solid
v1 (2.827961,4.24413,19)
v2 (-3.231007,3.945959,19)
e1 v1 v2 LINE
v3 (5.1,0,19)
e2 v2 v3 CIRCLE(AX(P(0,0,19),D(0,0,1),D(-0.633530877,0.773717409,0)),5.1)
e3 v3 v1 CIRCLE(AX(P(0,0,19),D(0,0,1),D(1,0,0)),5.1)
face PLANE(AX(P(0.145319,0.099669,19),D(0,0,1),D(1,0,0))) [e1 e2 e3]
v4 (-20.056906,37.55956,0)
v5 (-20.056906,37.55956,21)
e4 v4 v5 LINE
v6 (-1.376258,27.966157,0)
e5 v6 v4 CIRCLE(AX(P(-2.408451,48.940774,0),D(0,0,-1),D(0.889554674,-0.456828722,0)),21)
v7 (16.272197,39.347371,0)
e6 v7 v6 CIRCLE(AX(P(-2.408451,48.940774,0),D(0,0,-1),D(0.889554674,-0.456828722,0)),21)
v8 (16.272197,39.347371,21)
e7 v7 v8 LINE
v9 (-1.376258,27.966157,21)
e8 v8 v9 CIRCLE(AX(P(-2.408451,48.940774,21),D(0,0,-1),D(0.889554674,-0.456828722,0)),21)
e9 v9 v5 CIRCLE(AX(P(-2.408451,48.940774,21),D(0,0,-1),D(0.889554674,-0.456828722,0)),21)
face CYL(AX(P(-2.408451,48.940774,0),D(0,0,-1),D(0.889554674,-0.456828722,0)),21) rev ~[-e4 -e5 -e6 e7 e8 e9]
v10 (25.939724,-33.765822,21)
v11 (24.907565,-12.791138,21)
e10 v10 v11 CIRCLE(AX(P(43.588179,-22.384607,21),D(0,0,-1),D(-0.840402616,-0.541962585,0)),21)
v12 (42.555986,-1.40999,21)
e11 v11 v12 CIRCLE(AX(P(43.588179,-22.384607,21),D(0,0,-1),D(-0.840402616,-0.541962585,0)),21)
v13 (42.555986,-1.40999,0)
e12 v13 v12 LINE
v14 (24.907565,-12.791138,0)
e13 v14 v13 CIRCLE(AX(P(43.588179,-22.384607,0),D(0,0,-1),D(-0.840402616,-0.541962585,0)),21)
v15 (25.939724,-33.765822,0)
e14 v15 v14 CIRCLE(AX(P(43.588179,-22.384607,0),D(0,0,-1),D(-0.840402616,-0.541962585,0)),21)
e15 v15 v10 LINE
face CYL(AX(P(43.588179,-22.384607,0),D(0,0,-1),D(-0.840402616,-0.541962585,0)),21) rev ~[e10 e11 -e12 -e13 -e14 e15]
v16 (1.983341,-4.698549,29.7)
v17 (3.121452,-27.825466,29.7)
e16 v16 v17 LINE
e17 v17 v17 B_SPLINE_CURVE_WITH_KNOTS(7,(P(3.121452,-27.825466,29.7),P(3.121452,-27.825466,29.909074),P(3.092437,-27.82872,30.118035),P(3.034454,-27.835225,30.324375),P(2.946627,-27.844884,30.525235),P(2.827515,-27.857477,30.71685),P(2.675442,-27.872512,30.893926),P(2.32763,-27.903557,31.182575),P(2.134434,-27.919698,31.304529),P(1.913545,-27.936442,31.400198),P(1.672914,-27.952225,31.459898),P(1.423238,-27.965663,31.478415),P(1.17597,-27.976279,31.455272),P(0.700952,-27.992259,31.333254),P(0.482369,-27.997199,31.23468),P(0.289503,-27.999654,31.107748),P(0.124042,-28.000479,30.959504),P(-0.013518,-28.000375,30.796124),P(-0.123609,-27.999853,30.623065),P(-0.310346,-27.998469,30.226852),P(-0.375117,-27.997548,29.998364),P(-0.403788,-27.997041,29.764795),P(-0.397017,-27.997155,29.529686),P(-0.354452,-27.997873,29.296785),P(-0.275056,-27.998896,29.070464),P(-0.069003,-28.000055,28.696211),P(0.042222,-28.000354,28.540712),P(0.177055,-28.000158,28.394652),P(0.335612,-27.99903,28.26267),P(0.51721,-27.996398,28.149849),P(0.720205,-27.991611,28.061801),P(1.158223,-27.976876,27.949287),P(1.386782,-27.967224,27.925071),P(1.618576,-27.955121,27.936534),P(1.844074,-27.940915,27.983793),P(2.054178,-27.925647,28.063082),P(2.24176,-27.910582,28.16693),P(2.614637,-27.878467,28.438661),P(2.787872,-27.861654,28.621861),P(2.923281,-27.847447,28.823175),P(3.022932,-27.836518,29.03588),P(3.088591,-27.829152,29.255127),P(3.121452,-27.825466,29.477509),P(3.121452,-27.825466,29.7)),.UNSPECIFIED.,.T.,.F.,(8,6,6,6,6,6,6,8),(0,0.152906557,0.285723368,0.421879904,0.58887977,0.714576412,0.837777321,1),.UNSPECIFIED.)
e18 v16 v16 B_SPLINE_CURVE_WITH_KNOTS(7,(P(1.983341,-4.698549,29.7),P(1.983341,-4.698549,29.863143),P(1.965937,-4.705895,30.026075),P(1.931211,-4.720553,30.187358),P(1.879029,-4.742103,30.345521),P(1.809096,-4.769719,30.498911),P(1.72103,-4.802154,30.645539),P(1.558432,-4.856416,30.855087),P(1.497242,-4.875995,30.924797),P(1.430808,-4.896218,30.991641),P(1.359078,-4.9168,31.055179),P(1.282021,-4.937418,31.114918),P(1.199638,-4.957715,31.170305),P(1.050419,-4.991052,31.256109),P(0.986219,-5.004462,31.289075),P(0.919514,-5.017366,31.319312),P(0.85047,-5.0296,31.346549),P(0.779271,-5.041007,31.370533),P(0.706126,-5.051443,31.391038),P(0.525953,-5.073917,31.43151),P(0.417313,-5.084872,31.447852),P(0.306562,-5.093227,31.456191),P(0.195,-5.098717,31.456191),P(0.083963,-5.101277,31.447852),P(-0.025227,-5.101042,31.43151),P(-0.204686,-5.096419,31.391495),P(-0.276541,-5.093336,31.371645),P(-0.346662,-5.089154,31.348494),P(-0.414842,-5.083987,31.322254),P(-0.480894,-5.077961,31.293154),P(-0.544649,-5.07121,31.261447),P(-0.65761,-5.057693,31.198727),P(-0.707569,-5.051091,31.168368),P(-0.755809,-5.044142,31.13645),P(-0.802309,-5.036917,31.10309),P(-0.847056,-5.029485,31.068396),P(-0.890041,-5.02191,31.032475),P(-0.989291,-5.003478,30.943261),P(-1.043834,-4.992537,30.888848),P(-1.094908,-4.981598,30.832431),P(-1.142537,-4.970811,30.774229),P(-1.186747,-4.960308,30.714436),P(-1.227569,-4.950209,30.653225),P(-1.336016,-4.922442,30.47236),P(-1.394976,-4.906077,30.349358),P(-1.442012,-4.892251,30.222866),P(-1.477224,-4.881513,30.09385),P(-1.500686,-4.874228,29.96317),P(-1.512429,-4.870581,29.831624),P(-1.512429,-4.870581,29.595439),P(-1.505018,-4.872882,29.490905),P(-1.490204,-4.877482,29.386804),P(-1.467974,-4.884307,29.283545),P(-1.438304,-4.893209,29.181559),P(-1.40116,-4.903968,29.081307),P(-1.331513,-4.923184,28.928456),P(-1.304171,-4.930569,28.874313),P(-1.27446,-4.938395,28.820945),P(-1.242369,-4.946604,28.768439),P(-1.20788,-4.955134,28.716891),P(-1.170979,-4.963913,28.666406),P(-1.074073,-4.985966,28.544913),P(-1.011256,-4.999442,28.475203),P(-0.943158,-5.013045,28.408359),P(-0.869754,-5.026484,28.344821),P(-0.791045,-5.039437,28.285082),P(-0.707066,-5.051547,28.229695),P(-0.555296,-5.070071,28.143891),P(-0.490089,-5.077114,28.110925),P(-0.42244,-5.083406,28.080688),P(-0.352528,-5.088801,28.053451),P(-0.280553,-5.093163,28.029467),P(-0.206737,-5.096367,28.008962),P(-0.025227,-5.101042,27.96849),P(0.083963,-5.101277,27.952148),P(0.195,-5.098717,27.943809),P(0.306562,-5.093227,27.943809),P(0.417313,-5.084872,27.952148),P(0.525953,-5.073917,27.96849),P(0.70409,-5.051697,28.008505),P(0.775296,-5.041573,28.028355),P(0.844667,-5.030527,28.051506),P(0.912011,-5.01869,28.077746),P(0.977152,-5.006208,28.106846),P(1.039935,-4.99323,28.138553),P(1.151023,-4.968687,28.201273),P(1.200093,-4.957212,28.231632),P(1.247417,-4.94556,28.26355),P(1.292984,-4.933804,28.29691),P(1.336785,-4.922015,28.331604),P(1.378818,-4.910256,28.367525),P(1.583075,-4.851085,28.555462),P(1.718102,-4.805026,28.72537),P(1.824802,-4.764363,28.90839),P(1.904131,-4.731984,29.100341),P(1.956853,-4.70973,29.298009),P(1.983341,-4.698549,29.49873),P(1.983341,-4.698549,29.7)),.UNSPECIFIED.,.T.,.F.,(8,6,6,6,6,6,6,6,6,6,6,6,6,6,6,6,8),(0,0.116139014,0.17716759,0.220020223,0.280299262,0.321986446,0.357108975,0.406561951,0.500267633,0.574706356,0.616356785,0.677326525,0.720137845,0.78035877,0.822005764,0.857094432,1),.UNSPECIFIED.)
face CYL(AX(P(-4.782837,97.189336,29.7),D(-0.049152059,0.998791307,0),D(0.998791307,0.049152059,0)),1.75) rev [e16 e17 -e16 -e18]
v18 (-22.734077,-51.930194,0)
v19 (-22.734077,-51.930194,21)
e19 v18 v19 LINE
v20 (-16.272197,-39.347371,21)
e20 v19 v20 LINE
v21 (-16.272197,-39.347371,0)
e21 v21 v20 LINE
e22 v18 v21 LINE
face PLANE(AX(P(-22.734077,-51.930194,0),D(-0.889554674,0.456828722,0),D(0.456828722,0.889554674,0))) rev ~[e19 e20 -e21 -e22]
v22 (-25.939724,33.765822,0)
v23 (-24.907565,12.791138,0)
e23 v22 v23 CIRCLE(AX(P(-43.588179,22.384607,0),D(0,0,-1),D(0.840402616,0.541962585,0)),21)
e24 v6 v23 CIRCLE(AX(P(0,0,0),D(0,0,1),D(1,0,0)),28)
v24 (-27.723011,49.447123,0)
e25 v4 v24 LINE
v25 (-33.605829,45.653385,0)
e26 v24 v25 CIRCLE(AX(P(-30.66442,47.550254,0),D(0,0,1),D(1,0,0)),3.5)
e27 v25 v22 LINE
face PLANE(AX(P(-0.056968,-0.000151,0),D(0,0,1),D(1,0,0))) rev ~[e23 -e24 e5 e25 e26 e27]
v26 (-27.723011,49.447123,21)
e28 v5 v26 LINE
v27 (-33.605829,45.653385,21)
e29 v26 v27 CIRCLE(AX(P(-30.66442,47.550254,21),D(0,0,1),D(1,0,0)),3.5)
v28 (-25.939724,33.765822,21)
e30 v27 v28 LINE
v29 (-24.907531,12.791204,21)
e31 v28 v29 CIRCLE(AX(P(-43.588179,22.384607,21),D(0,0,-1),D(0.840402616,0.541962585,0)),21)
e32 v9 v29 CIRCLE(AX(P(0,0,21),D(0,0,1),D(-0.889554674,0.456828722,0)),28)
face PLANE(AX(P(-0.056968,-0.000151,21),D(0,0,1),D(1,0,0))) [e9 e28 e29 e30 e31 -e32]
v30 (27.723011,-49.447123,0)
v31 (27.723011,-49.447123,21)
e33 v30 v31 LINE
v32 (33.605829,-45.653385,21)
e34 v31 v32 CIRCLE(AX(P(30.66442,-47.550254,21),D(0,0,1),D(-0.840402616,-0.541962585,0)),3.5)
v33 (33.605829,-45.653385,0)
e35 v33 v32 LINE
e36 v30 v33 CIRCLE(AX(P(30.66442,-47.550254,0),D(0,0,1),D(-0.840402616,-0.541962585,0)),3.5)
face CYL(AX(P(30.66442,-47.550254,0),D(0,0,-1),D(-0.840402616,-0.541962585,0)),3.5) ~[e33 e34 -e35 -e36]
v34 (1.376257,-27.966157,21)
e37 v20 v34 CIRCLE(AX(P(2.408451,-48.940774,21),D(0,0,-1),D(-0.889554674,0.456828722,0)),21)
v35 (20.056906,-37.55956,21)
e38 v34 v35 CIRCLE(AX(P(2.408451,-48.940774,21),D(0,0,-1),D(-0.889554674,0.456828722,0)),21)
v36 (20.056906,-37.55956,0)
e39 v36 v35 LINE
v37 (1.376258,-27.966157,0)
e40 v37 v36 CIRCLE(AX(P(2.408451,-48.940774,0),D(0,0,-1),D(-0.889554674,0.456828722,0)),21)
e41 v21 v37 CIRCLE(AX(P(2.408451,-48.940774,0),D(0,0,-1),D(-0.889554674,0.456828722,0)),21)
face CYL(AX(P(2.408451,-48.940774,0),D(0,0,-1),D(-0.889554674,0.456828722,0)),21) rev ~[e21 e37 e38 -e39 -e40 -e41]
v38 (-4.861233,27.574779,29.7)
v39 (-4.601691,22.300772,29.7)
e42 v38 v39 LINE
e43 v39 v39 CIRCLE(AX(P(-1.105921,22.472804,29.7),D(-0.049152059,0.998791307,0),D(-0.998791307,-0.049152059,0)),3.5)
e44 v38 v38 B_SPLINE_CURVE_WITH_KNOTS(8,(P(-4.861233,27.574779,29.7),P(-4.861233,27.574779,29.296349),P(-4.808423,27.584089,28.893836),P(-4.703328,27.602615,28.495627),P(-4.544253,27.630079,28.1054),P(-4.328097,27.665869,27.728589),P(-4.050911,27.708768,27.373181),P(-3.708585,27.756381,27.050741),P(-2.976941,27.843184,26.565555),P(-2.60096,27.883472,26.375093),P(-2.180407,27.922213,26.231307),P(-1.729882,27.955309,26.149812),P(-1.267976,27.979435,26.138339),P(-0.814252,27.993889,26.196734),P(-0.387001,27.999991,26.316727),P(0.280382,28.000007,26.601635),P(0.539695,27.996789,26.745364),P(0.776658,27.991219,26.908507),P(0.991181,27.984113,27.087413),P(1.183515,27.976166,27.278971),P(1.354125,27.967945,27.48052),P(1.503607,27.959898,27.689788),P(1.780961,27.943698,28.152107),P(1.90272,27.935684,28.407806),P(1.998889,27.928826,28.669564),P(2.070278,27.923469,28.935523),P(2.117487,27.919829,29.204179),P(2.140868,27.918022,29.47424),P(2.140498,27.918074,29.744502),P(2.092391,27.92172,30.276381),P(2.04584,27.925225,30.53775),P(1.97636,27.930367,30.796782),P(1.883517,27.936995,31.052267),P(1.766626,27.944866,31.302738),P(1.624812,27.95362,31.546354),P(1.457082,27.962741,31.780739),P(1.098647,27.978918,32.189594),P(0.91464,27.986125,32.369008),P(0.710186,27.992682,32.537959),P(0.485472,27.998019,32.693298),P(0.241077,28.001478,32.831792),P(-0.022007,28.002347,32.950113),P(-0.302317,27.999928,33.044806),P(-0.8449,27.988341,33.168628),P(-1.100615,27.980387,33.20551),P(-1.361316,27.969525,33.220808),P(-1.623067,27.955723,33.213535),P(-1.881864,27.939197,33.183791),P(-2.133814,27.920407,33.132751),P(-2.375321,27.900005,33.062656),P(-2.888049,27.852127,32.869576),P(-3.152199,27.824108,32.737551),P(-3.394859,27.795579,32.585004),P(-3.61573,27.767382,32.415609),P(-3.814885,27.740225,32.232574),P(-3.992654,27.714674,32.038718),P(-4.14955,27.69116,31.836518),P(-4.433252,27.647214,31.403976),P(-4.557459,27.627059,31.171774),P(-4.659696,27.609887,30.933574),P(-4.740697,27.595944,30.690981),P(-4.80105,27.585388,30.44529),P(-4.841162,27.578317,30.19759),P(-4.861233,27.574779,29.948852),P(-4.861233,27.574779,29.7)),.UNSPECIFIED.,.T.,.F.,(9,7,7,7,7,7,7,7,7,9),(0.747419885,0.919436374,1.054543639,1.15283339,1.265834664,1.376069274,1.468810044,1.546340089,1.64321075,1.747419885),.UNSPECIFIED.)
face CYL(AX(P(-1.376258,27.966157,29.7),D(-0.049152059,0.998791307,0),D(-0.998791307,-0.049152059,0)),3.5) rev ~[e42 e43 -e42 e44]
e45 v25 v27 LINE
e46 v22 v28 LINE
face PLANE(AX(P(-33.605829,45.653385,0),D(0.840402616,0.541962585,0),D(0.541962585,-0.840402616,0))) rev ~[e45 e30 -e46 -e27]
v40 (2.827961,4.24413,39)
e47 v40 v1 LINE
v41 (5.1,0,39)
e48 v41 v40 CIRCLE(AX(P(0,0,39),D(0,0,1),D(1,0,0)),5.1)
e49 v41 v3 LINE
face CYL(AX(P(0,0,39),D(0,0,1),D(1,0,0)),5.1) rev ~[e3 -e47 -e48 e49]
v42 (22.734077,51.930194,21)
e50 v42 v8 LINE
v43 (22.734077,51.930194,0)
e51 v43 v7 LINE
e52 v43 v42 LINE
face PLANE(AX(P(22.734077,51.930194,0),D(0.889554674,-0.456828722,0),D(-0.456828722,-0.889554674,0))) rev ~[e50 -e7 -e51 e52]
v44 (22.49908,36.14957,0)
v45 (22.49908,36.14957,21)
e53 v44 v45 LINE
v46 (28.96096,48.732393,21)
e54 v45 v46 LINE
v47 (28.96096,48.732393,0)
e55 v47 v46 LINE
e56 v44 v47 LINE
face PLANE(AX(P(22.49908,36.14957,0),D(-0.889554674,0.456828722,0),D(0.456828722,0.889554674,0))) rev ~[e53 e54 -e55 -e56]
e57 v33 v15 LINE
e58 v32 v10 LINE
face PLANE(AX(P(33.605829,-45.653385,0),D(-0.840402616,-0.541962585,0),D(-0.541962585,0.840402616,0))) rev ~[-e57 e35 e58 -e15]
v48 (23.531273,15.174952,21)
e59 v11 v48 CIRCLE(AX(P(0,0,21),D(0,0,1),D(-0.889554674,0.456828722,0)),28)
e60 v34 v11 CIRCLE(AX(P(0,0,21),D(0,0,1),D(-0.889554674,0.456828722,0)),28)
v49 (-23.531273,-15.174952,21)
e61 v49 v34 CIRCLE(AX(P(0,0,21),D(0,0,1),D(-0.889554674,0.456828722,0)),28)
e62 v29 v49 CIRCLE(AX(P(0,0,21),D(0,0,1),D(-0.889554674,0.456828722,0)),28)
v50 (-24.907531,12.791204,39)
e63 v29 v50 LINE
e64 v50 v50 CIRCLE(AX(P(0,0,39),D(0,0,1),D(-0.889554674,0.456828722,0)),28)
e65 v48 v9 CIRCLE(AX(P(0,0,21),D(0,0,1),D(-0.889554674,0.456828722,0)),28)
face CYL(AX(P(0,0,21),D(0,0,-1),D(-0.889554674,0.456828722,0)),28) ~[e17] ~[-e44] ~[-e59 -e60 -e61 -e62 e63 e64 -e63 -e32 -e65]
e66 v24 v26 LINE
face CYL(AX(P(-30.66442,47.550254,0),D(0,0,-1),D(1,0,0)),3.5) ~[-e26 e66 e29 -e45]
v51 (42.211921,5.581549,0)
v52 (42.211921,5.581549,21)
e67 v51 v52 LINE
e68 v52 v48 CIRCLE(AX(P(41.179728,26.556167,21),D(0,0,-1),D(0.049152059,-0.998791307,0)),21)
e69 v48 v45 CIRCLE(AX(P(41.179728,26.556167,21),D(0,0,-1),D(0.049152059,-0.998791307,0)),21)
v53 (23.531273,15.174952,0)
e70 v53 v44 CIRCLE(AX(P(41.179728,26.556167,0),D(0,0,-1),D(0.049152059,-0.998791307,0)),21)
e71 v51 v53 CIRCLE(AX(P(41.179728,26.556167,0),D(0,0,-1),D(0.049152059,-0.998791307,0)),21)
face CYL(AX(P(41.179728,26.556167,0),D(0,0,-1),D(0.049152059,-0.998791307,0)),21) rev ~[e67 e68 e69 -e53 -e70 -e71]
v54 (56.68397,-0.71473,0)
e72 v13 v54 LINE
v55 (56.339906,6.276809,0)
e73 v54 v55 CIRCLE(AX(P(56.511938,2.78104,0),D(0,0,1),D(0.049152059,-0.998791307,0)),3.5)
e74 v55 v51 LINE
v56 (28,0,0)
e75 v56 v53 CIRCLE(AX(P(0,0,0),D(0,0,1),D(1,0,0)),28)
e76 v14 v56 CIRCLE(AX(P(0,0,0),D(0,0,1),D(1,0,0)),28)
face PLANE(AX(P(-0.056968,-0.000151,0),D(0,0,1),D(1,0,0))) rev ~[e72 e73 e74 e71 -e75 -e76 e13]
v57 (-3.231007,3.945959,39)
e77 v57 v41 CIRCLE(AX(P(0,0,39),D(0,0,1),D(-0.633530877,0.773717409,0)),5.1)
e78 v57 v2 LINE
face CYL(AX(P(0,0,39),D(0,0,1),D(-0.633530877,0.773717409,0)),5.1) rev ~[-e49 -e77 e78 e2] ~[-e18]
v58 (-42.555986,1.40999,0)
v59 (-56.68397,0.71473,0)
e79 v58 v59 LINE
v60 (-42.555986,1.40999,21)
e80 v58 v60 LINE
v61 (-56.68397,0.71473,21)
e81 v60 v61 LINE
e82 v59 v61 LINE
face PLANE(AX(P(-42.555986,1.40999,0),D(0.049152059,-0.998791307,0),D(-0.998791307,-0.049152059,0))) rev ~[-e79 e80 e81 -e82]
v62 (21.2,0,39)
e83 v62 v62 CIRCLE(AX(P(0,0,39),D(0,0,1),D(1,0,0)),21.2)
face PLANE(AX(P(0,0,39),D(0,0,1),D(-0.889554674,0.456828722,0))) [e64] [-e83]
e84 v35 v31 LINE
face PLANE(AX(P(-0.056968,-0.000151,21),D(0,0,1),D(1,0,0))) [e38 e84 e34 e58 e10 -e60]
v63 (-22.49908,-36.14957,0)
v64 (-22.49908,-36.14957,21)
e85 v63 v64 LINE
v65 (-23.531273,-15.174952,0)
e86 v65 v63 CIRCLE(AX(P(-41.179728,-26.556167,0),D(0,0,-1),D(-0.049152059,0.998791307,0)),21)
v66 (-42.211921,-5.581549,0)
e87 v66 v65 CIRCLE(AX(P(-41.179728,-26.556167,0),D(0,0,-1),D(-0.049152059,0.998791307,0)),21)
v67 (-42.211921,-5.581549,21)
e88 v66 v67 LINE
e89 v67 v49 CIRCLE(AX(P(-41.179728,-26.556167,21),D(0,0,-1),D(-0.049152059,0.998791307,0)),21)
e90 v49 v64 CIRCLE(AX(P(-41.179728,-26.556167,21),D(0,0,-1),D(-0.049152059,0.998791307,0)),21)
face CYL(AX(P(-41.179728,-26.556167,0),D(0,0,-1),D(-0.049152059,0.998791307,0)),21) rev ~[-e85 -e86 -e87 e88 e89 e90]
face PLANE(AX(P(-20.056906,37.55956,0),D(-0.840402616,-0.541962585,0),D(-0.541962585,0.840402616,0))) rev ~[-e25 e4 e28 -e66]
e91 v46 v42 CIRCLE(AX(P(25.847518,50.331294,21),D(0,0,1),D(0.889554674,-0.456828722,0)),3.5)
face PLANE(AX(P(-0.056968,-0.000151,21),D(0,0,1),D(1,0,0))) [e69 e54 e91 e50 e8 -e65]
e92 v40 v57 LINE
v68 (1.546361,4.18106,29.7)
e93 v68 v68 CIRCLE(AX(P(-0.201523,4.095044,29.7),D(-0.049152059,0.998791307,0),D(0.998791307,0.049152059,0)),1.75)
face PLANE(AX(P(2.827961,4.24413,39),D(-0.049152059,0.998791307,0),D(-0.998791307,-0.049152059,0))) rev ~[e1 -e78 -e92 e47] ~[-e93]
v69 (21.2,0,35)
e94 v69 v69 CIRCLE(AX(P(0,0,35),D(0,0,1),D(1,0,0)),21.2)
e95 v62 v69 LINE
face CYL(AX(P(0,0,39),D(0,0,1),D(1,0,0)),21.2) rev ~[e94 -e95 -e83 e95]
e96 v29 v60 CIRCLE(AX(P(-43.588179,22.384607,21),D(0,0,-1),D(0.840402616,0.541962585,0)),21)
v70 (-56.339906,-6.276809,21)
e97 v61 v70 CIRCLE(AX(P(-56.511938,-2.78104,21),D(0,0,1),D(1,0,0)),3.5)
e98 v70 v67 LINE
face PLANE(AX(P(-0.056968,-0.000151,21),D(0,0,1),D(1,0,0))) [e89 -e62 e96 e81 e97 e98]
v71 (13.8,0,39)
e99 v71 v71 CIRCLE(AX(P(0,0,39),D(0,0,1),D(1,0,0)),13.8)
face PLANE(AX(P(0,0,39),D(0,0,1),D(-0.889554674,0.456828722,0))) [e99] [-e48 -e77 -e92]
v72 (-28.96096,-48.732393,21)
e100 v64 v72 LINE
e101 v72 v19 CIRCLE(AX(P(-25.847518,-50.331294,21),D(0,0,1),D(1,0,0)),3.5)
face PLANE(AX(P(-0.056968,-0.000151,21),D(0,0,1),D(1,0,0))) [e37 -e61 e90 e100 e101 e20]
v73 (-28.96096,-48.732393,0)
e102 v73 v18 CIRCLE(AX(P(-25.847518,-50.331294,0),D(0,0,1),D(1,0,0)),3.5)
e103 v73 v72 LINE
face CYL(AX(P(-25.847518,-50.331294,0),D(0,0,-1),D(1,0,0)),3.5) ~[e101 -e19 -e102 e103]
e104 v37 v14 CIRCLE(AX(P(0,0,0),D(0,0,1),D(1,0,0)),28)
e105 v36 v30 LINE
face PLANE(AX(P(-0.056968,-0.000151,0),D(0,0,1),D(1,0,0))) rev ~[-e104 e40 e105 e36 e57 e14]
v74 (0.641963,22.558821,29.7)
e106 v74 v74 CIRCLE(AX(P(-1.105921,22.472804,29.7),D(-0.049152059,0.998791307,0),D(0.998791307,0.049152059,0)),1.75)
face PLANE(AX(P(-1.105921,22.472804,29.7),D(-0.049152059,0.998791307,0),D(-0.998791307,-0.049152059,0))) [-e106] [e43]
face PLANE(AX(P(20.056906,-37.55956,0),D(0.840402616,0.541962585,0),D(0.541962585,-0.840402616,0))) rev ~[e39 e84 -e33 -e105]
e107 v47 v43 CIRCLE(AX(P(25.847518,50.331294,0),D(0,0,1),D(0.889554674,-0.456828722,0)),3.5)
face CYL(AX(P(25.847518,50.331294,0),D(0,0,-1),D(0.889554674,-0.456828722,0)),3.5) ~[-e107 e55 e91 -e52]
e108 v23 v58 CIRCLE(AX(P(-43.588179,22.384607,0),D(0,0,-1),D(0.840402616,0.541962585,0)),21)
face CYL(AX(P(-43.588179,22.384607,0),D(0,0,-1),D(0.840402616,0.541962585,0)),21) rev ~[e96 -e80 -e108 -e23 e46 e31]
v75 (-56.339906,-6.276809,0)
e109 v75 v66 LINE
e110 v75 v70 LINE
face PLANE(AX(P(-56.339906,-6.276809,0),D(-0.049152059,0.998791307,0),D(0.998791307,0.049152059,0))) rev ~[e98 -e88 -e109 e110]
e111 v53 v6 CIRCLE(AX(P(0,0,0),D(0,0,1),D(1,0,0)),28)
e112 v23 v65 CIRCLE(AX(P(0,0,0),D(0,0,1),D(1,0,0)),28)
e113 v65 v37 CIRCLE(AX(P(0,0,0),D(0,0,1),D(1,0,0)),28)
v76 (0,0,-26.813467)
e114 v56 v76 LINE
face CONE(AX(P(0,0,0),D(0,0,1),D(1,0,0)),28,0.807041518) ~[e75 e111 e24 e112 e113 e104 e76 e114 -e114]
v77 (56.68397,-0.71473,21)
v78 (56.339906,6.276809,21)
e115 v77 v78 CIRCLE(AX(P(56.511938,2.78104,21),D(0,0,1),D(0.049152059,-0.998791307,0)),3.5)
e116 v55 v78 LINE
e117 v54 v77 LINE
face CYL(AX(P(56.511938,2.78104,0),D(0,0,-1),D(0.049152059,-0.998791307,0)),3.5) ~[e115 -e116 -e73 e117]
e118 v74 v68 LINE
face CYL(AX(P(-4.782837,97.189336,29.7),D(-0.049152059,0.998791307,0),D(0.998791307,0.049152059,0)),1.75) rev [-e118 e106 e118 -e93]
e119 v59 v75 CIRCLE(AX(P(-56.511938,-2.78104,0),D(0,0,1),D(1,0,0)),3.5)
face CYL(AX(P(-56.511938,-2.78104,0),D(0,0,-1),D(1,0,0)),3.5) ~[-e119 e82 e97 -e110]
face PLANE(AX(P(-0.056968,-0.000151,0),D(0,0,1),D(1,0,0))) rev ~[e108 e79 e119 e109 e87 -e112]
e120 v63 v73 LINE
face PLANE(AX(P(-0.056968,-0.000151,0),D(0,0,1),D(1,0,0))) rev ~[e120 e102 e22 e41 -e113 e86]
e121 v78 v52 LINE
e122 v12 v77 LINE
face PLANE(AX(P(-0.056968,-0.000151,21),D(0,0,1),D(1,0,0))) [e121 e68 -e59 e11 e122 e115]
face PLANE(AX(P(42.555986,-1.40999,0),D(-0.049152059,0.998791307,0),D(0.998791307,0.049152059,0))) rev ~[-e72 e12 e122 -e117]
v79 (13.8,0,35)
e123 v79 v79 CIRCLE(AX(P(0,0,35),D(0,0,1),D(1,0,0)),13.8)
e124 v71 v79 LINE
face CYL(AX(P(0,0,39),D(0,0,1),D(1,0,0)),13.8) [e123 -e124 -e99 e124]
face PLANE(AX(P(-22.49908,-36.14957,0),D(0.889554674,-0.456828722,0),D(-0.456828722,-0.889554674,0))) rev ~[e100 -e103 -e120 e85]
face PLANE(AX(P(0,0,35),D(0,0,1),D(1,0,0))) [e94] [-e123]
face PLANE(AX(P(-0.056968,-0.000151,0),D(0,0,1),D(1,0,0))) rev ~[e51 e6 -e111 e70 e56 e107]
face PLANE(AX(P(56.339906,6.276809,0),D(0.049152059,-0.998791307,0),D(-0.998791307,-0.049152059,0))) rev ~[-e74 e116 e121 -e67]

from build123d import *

# Parameters (mm, degrees)
SKETCH1_R               = 3.5
BOSS_EXTRUDE1_DEPTH     = 21
SKETCH4_R               = 28
BOSS_EXTRUDE2_DEPTH     = 18
SKETCH6_R               = 21.2
SKETCH6_R_2             = 13.8
CUT_EXTRUDE1_DEPTH      = 4
CUT_EXTRUDE2_DEPTH      = 20
CUT_EXTRUDE3_DEPTH      = 93.206949894
CUT_EXTRUDE3_DEPTH_BACK = 93.206949894
SKETCH7_R               = 1.75
SKETCH8_R               = 3.5
CUT_EXTRUDE4_DEPTH      = 5.5


with BuildPart() as part:
    # Sketch1 → Boss-Extrude1 (new body)
    with BuildSketch(Plane.XY):
        with BuildLine():
            ThreePointArc((-27.16441994, 47.550254291), (-29.67571676, 44.192804958), (-33.605829095, 45.653385243))
            Line((-33.605829095, 45.653385243), (-25.93972411, 33.765821671))
            ThreePointArc((-25.93972411, 33.765821671), (-24.90753088, 12.791204222), (-42.555985811, 1.409989939))
            Line((-42.555985811, 1.409989939), (-56.683970347, 0.71473006))
            ThreePointArc((-56.683970347, 0.71473006), (-54.098653318, -0.246072778), (-53.011938142, -2.781039515))
            ThreePointArc((-53.011938142, -2.781039515), (-53.976971405, -5.194324339), (-56.339905937, -6.27680909))
            Line((-56.339905937, -6.27680909), (-42.211921401, -5.581549211))
            ThreePointArc((-42.211921401, -5.581549211), (-23.531273241, -15.174952377), (-22.499080012, -36.149569826))
            Line((-22.499080012, -36.149569826), (-28.960959562, -48.732393278))
            ThreePointArc((-28.960959562, -48.732393278), (-25.025035607, -46.929305801), (-22.347518202, -50.331293805))
            ThreePointArc((-22.347518202, -50.331293805), (-22.445530198, -51.153776401), (-22.734076842, -51.930194333))
            Line((-22.734076842, -51.930194333), (-16.272197292, -39.347370882))
            ThreePointArc((-16.272197292, -39.347370882), (1.376257639, -27.966156599), (20.0569058, -37.559559765))
            Line((20.0569058, -37.559559765), (27.723010785, -49.447123338))
            ThreePointArc((27.723010785, -49.447123338), (28.767550893, -44.608845135), (33.605829095, -45.653385243))
            Line((33.605829095, -45.653385243), (25.93972411, -33.765821671))
            ThreePointArc((25.93972411, -33.765821671), (24.90753088, -12.791204222), (42.555985811, -1.409989939))
            Line((42.555985811, -1.409989939), (56.683970347, -0.71473006))
            ThreePointArc((56.683970347, -0.71473006), (53.016168567, 2.60900731), (56.339905937, 6.27680909))
            Line((56.339905937, 6.27680909), (42.211921401, 5.581549211))
            ThreePointArc((42.211921401, 5.581549211), (23.531273241, 15.174952377), (22.499080012, 36.149569826))
            Line((22.499080012, 36.149569826), (28.960959562, 48.732393278))
            ThreePointArc((28.960959562, 48.732393278), (24.248617674, 47.217852445), (22.734076842, 51.930194333))
            Line((22.734076842, 51.930194333), (16.272197292, 39.347370882))
            ThreePointArc((16.272197292, 39.347370882), (-1.376257639, 27.966156599), (-20.0569058, 37.559559765))
            Line((-20.0569058, 37.559559765), (-27.723010785, 49.447123338))
            ThreePointArc((-27.723010785, 49.447123338), (-27.306970607, 48.538957471), (-27.16441994, 47.550254291))
        make_face()
        with Locations((-56.511938142, -2.781039515)):
            Circle(SKETCH1_R)
        with Locations((-30.66441994, 47.550254291)):
            Circle(SKETCH1_R)
        with Locations((25.847518202, 50.331293805)):
            Circle(SKETCH1_R)
        with Locations((56.511938142, 2.781039515)):
            Circle(SKETCH1_R)
        with Locations((30.66441994, -47.550254291)):
            Circle(SKETCH1_R)
        with Locations((-25.847518202, -50.331293805)):
            Circle(SKETCH1_R)
    extrude(amount=BOSS_EXTRUDE1_DEPTH)

    # Sketch3 → Revolve1 (revolve)
    with BuildSketch(Plane(origin=(0, 0, 0), x_dir=(-0.9987913071010414, -0.04915205854685543, 0), z_dir=(0.04915205854685543, -0.9987913071010414, 0)), mode=Mode.PRIVATE) as revolve1_sk:
        Polygon((0, 0), (-28, 0), (0, 26.813467396), align=None)
    revolve(revolve1_sk.sketch.rotate(Axis((0, 0, -26.813467396), (0, 0, 1)), 357.182659299), axis=Axis((0, 0, -26.813467396), (0, 0, 1)))

    # Sketch4 → Boss-Extrude2 (add)
    with BuildSketch(Plane.XY.offset(21)):
        with Locations(Location((0, 0, 0), (0, 0, 152.817340701))):
            Circle(SKETCH4_R)
    extrude(amount=BOSS_EXTRUDE2_DEPTH)

    # Sketch6 → Cut-Extrude1 (cut)
    with BuildSketch(Plane.XY.offset(39)):
        Circle(SKETCH6_R)
        Circle(SKETCH6_R_2, mode=Mode.SUBTRACT)
    extrude(amount=-CUT_EXTRUDE1_DEPTH, mode=Mode.SUBTRACT)

    # Sketch5 → Cut-Extrude2 (cut)
    with BuildSketch(Plane.XY.offset(39)):
        with BuildLine():
            Line((2.82796059, 4.244129934), (-3.231007471, 3.945958784))
            ThreePointArc((-3.231007471, 3.945958784), (-2.183101223, -4.609128882), (5.1, 0))
            ThreePointArc((5.1, 0), (4.496253941, 2.407010697), (2.82796059, 4.244129934))
        make_face()
    extrude(amount=-CUT_EXTRUDE2_DEPTH, mode=Mode.SUBTRACT)

    # Sketch7 → Cut-Extrude3 (cut, two sides: drawn at the far end of the back side and taken through both)
    with BuildSketch(Plane(origin=(-0.20152344, 4.095044359, 0), x_dir=(0.9987913071010414, 0.049152058546853936, 0), z_dir=(0.049152058546853936, -0.9987913071010414, 0)).offset(-CUT_EXTRUDE3_DEPTH_BACK)):
        with Locations((0, 29.7)):
            Circle(SKETCH7_R)
    extrude(amount=CUT_EXTRUDE3_DEPTH + CUT_EXTRUDE3_DEPTH_BACK, mode=Mode.SUBTRACT)

    # Sketch8 → Cut-Extrude4 (cut)
    with BuildSketch(Plane(origin=(-1.376257639, 27.966156599, 0), x_dir=(0.9987913071010414, 0.049152058546855434, 0), z_dir=(-0.049152058546855434, 0.9987913071010414, 0))):
        with Locations(Location((0, -29.7, 0), (0, 0, 180))):
            Circle(SKETCH8_R)
    extrude(amount=-CUT_EXTRUDE4_DEPTH, mode=Mode.SUBTRACT)


solid = part.part
